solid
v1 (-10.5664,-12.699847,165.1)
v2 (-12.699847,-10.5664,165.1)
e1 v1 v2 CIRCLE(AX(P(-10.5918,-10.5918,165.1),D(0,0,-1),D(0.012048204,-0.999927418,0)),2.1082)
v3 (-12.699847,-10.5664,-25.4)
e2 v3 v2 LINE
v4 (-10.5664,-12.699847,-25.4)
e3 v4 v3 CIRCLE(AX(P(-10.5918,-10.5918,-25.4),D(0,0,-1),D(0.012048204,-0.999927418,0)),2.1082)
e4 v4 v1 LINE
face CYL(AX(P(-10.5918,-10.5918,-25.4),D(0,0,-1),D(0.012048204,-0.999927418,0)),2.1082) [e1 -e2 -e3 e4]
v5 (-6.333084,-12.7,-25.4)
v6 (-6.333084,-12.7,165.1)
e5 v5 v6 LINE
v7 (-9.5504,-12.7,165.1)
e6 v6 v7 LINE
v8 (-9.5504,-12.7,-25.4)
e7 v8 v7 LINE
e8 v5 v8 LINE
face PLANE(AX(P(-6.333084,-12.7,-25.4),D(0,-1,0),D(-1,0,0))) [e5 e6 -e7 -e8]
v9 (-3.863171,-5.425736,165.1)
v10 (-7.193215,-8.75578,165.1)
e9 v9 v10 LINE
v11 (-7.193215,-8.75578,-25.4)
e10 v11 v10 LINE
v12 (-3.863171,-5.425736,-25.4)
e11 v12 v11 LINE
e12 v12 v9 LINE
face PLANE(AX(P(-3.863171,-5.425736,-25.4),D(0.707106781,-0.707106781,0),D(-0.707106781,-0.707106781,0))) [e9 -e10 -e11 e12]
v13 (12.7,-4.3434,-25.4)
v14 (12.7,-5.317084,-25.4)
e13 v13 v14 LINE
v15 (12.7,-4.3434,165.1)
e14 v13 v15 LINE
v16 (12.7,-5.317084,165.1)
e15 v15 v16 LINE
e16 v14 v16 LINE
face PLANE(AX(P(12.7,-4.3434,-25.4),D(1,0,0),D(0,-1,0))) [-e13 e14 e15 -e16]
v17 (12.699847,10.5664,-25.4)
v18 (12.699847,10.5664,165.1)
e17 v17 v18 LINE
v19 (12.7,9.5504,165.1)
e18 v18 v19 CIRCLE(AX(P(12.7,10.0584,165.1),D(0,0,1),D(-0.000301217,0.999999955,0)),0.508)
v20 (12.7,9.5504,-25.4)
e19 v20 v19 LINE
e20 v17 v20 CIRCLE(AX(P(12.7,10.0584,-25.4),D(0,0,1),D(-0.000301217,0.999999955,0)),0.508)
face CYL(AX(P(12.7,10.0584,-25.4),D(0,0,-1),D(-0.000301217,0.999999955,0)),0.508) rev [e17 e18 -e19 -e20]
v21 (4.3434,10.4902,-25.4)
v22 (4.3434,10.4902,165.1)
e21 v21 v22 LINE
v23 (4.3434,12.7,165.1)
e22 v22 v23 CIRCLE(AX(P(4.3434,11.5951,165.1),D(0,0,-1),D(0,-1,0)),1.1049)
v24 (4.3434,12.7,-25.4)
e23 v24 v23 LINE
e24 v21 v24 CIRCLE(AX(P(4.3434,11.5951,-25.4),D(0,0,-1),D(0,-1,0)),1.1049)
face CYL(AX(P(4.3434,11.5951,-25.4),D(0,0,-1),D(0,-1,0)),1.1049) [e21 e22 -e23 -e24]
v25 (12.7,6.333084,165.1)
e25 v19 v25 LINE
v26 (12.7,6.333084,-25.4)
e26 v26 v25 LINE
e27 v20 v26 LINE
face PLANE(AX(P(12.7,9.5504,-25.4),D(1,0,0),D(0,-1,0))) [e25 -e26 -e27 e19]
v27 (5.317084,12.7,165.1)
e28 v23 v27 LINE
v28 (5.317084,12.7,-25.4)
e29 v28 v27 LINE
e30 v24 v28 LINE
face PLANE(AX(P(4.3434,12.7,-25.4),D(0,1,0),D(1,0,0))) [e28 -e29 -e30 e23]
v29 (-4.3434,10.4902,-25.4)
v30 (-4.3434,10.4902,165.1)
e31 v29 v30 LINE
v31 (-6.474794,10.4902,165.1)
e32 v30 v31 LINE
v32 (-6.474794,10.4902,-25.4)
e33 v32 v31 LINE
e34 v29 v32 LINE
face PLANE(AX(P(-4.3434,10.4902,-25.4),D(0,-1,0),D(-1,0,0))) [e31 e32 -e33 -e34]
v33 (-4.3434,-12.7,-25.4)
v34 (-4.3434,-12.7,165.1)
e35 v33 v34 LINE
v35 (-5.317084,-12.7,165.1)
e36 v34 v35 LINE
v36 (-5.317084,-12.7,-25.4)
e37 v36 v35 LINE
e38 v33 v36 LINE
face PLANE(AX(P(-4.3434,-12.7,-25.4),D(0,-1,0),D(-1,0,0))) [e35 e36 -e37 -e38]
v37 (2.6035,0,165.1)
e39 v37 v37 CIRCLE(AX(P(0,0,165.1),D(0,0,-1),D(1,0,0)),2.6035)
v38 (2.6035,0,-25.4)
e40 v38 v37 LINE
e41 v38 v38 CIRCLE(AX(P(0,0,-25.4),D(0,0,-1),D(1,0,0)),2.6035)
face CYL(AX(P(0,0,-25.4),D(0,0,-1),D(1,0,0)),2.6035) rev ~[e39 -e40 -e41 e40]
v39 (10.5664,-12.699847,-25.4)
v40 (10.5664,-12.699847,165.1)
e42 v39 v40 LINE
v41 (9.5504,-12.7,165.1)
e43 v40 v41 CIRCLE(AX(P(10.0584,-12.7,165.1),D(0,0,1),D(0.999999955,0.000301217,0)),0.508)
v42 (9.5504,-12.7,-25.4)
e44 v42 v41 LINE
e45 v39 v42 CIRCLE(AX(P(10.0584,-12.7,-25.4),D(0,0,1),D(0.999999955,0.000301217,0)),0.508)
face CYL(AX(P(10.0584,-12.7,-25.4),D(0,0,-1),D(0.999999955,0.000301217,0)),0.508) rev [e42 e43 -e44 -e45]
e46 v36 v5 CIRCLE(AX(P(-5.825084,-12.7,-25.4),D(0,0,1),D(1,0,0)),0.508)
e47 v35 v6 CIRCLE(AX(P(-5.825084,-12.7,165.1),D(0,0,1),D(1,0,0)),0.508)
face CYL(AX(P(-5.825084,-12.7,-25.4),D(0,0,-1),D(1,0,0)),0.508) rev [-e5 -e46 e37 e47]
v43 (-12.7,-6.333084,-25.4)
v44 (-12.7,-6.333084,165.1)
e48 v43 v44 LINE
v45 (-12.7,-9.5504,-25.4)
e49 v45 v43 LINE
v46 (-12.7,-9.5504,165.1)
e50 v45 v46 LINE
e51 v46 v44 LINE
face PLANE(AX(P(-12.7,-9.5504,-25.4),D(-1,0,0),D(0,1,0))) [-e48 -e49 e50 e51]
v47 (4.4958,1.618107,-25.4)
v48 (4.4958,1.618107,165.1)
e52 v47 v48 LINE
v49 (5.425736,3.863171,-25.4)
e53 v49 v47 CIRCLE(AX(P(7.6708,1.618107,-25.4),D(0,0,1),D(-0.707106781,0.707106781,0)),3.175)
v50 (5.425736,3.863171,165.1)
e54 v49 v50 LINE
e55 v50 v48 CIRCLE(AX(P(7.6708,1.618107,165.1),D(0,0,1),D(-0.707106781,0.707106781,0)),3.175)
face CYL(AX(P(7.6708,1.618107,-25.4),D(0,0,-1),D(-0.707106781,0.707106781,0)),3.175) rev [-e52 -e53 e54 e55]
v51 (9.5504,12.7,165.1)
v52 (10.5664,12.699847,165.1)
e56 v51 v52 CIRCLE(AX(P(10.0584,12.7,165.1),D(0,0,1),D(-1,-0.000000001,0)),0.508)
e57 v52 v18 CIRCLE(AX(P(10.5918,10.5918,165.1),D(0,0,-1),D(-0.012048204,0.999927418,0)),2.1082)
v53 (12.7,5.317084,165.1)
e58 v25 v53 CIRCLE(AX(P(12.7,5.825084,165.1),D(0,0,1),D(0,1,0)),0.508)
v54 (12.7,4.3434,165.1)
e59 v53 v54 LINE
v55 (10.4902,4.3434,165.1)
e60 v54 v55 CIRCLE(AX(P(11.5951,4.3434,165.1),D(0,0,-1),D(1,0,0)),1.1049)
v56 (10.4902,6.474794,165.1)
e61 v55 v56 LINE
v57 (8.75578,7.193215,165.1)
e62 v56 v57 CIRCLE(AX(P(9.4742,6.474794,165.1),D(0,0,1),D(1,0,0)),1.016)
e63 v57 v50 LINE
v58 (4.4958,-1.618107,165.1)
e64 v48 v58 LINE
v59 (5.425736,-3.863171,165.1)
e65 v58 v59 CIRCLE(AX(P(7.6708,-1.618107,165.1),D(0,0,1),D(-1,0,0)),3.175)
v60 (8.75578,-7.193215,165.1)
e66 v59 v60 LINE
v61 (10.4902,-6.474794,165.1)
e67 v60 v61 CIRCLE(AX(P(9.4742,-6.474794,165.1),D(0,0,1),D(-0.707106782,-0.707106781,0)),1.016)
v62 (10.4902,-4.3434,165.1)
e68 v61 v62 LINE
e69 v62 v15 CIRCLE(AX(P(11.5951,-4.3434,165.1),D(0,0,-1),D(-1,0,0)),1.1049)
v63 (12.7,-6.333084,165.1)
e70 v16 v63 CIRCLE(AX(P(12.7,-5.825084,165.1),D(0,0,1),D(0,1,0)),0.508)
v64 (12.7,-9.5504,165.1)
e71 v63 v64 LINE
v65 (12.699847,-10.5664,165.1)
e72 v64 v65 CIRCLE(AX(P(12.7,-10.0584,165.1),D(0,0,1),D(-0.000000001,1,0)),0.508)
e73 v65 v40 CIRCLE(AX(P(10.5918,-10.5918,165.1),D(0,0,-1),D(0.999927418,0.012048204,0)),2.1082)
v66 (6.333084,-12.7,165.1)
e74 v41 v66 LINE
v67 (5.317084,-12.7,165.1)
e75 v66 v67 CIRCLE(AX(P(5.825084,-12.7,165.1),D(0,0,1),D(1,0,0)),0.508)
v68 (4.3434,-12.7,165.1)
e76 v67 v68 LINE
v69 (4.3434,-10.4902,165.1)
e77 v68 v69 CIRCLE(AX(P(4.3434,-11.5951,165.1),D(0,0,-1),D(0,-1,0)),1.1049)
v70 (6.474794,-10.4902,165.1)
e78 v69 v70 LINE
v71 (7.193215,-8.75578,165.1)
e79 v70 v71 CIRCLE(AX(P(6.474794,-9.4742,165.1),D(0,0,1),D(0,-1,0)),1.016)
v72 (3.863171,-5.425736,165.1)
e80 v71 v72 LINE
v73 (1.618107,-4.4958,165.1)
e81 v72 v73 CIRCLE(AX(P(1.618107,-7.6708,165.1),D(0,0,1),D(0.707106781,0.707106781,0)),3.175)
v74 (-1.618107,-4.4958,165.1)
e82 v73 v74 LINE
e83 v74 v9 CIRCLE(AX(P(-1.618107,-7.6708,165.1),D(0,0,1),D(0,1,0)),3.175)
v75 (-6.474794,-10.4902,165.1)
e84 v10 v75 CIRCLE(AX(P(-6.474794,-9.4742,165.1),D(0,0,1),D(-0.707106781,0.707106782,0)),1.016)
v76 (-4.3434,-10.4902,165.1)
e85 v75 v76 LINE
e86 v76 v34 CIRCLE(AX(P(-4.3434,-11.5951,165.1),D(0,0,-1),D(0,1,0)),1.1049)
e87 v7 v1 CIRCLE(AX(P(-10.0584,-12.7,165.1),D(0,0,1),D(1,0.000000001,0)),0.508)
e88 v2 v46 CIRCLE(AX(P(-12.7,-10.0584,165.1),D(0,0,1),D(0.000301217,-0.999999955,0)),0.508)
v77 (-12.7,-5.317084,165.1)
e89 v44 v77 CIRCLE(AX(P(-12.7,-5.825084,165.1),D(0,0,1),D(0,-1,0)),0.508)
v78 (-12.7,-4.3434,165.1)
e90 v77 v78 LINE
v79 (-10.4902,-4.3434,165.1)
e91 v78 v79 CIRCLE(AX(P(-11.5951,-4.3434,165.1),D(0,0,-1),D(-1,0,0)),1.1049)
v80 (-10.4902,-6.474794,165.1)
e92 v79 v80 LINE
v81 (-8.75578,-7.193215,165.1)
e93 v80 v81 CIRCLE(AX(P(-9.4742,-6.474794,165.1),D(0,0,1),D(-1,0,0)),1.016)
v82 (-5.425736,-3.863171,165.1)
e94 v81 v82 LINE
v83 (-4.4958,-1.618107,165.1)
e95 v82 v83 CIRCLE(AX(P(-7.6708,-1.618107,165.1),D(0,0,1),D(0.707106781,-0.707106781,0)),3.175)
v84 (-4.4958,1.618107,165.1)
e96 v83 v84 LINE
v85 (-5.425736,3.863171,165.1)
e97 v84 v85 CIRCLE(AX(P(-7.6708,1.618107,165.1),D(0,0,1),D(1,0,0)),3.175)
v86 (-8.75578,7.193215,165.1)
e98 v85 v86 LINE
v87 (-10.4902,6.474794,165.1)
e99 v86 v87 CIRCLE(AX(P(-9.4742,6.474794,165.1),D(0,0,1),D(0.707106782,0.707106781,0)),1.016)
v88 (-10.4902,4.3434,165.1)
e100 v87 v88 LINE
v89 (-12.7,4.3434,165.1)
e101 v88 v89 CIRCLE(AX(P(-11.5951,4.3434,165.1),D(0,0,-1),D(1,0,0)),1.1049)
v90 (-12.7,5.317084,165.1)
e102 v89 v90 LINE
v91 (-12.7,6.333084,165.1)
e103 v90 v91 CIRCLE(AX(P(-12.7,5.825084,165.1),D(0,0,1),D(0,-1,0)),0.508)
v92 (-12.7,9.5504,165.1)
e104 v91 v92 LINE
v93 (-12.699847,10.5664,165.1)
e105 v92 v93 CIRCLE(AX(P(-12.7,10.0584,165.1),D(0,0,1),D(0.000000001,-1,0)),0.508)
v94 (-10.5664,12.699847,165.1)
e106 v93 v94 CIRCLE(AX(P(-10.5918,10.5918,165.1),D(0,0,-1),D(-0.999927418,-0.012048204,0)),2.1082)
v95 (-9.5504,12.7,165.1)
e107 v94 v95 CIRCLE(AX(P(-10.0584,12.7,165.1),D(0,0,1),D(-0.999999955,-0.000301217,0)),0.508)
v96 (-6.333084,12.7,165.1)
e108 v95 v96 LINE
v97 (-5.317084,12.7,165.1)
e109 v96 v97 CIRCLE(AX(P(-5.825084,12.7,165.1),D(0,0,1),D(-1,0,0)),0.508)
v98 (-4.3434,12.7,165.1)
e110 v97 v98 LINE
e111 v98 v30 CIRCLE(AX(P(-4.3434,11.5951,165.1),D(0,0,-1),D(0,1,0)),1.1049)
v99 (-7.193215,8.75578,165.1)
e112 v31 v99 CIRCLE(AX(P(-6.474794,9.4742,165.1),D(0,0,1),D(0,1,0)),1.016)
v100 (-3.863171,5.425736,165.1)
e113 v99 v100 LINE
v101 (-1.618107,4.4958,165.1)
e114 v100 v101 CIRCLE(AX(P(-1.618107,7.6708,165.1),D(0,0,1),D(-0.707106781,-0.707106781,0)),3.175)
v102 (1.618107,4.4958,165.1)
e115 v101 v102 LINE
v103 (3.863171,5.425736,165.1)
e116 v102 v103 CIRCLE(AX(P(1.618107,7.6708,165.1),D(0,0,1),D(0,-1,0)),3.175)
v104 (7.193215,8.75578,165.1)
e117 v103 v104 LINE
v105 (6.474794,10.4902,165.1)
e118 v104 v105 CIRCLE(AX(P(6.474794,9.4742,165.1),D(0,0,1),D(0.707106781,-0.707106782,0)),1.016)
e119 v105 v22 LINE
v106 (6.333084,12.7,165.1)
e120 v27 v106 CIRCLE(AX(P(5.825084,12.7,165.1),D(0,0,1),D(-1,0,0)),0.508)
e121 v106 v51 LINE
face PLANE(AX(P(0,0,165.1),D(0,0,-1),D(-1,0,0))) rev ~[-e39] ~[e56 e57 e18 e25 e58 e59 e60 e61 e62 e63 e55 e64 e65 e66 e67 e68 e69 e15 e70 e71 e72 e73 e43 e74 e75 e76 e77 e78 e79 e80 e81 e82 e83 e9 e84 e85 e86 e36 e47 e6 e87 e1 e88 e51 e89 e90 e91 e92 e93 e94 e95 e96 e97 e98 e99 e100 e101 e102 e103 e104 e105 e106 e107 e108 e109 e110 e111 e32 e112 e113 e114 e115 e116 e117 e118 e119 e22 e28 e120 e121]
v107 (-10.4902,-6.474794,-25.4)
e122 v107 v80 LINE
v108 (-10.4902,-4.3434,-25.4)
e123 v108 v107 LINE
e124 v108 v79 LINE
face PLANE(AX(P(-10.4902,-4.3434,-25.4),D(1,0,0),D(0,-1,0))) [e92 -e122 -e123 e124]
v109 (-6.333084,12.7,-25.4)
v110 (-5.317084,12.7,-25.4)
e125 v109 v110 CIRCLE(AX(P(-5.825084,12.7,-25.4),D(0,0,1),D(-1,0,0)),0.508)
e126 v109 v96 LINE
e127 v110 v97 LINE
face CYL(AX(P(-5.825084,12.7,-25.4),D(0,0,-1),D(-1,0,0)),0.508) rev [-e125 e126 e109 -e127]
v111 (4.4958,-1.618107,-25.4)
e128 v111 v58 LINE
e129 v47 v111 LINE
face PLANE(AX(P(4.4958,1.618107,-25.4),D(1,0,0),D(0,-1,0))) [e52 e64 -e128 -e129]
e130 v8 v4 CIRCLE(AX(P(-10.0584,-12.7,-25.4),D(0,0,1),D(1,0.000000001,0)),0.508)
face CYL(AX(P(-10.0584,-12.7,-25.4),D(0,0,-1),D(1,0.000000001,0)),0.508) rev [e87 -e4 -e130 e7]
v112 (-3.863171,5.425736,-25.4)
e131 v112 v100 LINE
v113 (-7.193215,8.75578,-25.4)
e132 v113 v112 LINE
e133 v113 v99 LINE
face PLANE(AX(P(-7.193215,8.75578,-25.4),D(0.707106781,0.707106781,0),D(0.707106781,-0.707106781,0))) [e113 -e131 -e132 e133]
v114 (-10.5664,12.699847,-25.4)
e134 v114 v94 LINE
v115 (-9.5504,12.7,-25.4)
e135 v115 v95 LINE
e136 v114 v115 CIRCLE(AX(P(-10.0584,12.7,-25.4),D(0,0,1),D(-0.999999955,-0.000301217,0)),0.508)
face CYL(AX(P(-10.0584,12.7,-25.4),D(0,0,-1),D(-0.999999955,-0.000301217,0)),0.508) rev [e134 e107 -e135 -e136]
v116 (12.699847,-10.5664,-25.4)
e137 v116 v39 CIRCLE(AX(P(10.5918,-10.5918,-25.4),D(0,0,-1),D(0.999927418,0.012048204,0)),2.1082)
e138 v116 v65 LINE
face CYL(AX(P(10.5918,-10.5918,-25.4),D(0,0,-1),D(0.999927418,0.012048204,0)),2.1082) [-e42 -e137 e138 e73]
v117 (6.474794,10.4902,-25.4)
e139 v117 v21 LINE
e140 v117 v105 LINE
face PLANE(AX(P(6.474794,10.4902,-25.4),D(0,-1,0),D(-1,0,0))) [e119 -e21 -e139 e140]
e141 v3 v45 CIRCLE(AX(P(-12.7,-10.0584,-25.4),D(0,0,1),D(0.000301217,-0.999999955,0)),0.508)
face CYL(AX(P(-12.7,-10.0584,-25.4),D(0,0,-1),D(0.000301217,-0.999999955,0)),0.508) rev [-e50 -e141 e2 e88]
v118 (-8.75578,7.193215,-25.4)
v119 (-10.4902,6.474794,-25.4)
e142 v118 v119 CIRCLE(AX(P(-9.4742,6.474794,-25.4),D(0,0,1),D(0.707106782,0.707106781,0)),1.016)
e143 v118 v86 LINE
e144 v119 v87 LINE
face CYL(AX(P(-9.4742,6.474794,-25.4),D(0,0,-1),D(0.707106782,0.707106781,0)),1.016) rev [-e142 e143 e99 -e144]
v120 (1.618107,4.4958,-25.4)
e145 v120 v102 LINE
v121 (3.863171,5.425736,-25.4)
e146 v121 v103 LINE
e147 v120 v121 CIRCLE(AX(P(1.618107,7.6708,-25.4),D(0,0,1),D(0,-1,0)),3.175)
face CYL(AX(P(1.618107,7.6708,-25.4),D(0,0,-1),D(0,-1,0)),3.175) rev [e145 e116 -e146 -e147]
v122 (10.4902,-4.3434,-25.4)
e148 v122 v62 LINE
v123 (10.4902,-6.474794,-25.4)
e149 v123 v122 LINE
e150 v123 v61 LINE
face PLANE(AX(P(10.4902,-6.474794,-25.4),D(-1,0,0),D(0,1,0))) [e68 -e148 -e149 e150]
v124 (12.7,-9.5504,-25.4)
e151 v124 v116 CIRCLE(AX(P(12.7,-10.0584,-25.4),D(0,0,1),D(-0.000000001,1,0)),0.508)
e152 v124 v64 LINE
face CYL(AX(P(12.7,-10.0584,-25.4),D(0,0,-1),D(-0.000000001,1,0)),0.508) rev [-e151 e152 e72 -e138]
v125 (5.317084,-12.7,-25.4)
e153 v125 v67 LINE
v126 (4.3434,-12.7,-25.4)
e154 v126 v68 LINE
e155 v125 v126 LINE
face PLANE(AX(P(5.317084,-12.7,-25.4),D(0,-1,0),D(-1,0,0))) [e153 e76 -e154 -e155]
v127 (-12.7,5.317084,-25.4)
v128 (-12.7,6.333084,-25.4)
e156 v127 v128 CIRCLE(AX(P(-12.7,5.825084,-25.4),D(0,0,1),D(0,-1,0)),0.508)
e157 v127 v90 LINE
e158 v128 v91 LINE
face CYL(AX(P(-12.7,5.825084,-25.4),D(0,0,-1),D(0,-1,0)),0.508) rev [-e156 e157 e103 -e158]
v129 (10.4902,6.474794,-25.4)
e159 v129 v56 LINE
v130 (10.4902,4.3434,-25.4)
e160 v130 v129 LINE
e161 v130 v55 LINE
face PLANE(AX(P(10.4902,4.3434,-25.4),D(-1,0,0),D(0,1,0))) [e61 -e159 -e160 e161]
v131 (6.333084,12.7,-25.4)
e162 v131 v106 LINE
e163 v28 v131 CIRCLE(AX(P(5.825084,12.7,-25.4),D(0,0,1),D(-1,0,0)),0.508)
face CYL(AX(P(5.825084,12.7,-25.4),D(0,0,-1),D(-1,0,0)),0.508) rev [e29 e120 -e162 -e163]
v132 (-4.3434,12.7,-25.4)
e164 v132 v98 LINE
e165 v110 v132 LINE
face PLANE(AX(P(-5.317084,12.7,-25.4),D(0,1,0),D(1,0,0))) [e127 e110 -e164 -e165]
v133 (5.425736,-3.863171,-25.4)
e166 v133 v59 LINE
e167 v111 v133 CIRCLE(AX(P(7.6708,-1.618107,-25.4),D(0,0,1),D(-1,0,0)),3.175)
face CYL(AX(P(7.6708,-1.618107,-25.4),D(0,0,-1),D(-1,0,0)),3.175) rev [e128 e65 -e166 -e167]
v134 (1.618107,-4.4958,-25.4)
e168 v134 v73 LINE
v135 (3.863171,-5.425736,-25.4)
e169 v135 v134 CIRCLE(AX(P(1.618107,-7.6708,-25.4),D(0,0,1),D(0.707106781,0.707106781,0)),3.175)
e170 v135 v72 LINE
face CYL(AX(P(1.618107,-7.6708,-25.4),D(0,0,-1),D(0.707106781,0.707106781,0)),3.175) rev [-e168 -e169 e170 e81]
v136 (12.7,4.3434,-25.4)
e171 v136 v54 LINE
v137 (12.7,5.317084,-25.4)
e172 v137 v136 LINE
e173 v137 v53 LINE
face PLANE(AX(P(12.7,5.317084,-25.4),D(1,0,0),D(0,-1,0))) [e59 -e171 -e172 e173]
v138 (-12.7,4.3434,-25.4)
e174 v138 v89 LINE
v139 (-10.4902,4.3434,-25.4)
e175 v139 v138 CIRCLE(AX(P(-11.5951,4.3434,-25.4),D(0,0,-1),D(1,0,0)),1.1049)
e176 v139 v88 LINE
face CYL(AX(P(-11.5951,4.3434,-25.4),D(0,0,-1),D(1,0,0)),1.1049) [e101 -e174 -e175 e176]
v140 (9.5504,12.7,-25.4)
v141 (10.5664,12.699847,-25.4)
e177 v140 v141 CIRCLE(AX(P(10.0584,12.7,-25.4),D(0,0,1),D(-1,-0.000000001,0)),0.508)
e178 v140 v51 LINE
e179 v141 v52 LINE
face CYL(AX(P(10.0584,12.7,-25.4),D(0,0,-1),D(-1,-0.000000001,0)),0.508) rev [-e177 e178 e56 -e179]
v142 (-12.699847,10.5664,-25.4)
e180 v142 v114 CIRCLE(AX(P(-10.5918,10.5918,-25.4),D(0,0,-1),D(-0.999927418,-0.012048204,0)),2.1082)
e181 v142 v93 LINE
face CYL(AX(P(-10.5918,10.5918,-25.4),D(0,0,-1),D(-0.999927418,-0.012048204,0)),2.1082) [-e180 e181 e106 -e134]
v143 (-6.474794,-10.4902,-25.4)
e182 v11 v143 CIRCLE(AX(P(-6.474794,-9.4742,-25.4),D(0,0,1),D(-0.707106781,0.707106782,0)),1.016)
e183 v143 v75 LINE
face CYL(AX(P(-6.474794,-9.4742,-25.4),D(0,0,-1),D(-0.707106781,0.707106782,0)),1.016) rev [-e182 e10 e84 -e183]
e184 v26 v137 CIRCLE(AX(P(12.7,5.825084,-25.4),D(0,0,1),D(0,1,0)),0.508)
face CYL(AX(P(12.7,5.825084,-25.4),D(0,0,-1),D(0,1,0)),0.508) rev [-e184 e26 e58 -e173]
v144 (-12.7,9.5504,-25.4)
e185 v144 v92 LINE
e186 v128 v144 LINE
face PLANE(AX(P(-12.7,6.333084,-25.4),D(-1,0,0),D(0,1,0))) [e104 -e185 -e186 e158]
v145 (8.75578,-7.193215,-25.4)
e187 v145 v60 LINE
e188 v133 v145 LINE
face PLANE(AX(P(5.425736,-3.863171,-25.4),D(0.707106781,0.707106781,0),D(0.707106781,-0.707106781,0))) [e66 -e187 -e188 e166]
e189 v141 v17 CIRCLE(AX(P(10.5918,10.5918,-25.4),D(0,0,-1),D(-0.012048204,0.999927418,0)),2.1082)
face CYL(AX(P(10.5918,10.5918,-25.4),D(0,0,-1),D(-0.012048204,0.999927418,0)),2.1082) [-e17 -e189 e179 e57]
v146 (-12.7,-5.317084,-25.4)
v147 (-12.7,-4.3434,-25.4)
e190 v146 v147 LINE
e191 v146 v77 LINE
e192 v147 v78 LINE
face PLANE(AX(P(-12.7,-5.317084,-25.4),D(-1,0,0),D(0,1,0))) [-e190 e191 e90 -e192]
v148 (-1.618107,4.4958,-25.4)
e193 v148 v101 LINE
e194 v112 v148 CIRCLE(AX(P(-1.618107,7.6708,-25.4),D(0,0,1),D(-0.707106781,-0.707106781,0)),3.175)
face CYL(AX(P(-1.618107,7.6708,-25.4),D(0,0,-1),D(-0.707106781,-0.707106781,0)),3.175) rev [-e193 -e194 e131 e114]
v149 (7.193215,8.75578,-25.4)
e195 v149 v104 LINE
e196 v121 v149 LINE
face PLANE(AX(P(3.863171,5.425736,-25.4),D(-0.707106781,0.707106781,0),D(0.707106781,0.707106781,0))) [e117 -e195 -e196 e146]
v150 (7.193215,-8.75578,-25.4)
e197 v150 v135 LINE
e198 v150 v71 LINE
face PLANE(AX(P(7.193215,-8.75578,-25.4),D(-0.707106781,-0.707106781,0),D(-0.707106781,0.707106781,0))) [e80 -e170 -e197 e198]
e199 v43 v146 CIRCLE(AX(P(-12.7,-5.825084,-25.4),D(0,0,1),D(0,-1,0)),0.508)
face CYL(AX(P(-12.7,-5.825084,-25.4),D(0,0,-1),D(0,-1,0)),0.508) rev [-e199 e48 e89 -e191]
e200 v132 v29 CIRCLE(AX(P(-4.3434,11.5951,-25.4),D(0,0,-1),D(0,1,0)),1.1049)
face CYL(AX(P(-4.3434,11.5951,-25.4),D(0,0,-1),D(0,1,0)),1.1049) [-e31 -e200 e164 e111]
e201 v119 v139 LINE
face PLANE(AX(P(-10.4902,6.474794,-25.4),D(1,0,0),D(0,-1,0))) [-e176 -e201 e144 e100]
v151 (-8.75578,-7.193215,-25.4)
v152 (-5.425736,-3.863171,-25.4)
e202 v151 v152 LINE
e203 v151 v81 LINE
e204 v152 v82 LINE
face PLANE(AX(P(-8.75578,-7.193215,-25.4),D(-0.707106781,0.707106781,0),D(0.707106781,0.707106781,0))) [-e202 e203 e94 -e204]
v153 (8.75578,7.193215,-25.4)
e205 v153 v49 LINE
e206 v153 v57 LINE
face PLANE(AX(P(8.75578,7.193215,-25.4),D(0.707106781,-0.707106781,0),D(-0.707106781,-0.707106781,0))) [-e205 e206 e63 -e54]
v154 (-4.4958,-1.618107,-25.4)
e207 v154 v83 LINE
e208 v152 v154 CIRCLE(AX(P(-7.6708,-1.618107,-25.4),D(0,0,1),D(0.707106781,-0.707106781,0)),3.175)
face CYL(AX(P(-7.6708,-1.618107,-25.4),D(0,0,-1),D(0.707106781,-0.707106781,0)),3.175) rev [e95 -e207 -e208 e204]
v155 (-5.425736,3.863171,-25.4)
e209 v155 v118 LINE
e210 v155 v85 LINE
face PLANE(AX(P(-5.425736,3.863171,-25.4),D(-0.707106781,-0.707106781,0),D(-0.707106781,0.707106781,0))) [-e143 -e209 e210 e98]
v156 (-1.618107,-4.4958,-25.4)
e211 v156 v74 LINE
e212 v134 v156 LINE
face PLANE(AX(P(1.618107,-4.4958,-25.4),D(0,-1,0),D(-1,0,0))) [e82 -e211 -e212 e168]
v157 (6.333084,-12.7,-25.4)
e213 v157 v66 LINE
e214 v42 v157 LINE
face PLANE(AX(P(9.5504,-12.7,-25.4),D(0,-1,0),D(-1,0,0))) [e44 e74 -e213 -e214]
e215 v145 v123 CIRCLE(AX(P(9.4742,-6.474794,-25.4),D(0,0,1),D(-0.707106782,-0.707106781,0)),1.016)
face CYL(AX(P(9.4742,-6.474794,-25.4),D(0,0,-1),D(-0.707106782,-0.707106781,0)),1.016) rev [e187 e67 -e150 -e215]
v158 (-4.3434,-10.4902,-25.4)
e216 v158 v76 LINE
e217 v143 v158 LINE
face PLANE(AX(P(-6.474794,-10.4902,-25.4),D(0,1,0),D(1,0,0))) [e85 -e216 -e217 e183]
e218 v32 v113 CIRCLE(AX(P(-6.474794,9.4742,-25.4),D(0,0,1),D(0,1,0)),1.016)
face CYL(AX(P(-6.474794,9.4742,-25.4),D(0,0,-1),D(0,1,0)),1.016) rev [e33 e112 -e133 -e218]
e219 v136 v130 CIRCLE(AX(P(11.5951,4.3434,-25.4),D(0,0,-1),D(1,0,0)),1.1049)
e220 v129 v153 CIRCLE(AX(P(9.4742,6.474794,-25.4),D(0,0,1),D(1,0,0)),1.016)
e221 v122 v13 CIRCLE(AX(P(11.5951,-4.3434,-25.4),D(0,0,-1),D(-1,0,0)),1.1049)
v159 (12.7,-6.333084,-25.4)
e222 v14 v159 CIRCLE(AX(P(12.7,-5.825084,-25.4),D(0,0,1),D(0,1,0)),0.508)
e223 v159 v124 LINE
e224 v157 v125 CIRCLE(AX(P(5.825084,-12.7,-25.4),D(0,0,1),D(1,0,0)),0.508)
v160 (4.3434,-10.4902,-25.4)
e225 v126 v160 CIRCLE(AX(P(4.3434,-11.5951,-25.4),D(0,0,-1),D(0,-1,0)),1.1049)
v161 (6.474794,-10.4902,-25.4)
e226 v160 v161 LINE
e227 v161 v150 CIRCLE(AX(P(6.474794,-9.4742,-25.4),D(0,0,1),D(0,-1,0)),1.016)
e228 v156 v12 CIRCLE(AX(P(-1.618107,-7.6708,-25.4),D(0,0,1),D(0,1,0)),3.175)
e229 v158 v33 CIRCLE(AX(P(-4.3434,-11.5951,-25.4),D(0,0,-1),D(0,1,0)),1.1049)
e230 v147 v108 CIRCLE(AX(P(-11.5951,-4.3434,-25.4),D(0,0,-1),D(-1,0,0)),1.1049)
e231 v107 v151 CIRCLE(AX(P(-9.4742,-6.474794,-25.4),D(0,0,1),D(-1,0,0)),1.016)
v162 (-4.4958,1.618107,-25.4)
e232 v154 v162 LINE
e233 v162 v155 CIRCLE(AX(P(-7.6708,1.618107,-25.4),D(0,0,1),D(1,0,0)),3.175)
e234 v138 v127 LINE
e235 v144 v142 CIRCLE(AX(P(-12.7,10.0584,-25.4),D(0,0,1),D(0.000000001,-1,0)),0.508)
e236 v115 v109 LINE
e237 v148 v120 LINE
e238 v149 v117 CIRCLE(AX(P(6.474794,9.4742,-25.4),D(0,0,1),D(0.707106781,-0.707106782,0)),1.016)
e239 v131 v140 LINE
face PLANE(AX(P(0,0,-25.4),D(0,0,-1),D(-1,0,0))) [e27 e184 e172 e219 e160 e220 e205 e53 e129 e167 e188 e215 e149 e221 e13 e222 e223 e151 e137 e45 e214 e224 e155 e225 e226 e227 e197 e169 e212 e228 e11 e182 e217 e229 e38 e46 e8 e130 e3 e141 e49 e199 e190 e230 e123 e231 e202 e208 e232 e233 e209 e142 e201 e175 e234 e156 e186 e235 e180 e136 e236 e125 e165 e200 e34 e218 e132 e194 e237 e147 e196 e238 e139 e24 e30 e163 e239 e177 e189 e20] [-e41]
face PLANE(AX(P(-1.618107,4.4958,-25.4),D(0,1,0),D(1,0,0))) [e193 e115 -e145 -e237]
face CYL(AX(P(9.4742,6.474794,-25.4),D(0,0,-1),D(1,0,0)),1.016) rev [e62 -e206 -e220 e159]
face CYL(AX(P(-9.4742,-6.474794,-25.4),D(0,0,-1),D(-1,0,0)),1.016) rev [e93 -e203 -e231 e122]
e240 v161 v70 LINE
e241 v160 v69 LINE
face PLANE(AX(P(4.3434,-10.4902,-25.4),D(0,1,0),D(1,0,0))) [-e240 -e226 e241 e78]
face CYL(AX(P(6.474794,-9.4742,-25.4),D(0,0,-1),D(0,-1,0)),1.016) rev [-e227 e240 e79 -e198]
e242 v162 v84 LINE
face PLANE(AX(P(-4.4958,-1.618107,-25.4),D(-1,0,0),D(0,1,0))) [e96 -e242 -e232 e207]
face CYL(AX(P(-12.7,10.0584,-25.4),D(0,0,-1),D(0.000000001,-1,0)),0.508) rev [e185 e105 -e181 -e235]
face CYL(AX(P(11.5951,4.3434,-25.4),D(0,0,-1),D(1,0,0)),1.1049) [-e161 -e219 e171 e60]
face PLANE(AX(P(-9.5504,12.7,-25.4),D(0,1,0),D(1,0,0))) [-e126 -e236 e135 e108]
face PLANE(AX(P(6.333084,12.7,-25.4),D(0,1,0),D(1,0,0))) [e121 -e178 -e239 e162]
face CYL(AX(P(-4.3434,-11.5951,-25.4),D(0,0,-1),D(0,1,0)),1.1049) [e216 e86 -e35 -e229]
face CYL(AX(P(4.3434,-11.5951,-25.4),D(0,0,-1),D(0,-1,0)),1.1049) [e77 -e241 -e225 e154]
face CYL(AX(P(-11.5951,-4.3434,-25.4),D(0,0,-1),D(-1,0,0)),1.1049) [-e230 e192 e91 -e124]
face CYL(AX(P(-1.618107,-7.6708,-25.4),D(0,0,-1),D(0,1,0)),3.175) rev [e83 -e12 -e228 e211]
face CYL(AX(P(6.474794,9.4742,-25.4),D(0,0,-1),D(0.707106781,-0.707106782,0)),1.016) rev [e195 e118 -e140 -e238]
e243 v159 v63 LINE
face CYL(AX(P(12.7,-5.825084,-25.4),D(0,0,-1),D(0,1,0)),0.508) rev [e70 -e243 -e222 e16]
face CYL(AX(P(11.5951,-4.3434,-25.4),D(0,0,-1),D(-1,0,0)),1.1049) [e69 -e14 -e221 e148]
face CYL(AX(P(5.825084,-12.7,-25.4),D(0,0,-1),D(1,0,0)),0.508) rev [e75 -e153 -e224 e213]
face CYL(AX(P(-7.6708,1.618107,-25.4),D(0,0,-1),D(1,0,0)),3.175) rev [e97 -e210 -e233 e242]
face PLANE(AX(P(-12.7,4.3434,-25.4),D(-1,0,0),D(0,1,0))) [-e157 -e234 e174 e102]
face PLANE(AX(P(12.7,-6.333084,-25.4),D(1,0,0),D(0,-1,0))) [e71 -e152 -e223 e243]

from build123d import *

# Parameters (mm, degrees)
SKETCH1_R           = 2.6035
BOSS_EXTRUDE1_DEPTH = 190.5


with BuildPart() as part:
    # Sketch1 → Boss-Extrude1 (new body)
    with BuildSketch(Plane(origin=(0, 0, -25.4), x_dir=(-1, 0, 0), z_dir=(0, 0, -1))):
        with BuildLine():
            Line((12.7, -9.5504), (12.7, -6.3330836))
            ThreePointArc((12.7, -6.3330836), (12.192, -5.8250836), (12.7, -5.3170836))
            Line((12.7, -5.3170836), (12.7, -4.3434))
            ThreePointArc((12.7, -4.3434), (11.5951, -3.2385), (10.4902, -4.3434))
            Line((10.4902, -4.3434), (10.4902, -6.474794456))
            ThreePointArc((10.4902, -6.474794456), (9.863006367, -7.413456061), (8.75577951, -7.193214945))
            Line((8.75577951, -7.193214945), (5.42573597, -3.863171405))
            ThreePointArc((5.42573597, -3.863171405), (4.737482484, -2.833127272), (4.4958, -1.618107374))
            Line((4.4958, -1.618107374), (4.4958, 1.618107374))
            ThreePointArc((4.4958, 1.618107374), (4.737482484, 2.833127272), (5.42573597, 3.863171405))
            Line((5.42573597, 3.863171405), (8.75577951, 7.193214945))
            ThreePointArc((8.75577951, 7.193214945), (9.863006367, 7.413456061), (10.4902, 6.474794456))
            Line((10.4902, 6.474794456), (10.4902, 4.343399971))
            ThreePointArc((10.4902, 4.343399971), (11.5951, 3.238499971), (12.7, 4.343399971))
            Line((12.7, 4.343399971), (12.7, 5.3170836))
            ThreePointArc((12.7, 5.3170836), (12.192, 5.8250836), (12.7, 6.3330836))
            Line((12.7, 6.3330836), (12.7, 9.5504))
            ThreePointArc((12.7, 9.5504), (12.192000006, 10.058323491), (12.699846982, 10.566399977))
            ThreePointArc((12.699846982, 10.566399977), (12.082522516, 12.082522516), (10.566399977, 12.699846982))
            ThreePointArc((10.566399977, 12.699846982), (10.058323491, 12.192000006), (9.5504, 12.7))
            Line((9.5504, 12.7), (6.3330836, 12.7))
            ThreePointArc((6.3330836, 12.7), (5.8250836, 12.192), (5.3170836, 12.7))
            Line((5.3170836, 12.7), (4.3434, 12.7))
            ThreePointArc((4.3434, 12.7), (3.2385, 11.5951), (4.3434, 10.4902))
            Line((4.3434, 10.4902), (6.474794456, 10.4902))
            ThreePointArc((6.474794456, 10.4902), (7.413456061, 9.863006367), (7.193214945, 8.75577951))
            Line((7.193214945, 8.75577951), (3.863171405, 5.42573597))
            ThreePointArc((3.863171405, 5.42573597), (2.833127272, 4.737482484), (1.618107374, 4.4958))
            Line((1.618107374, 4.4958), (-1.618107374, 4.4958))
            ThreePointArc((-1.618107374, 4.4958), (-2.833127272, 4.737482484), (-3.863171405, 5.42573597))
            Line((-3.863171405, 5.42573597), (-7.193214945, 8.75577951))
            ThreePointArc((-7.193214945, 8.75577951), (-7.413456061, 9.863006367), (-6.474794456, 10.4902))
            Line((-6.474794456, 10.4902), (-4.343399971, 10.4902))
            ThreePointArc((-4.343399971, 10.4902), (-3.238499971, 11.5951), (-4.343399971, 12.7))
            Line((-4.343399971, 12.7), (-5.3170836, 12.7))
            ThreePointArc((-5.3170836, 12.7), (-5.8250836, 12.192), (-6.3330836, 12.7))
            Line((-6.3330836, 12.7), (-9.5504, 12.7))
            ThreePointArc((-9.5504, 12.7), (-10.058323491, 12.192000006), (-10.566399977, 12.699846982))
            ThreePointArc((-10.566399977, 12.699846982), (-12.082522516, 12.082522516), (-12.699846982, 10.566399977))
            ThreePointArc((-12.699846982, 10.566399977), (-12.192000006, 10.058323491), (-12.7, 9.5504))
            Line((-12.7, 9.5504), (-12.7, 6.3330836))
            ThreePointArc((-12.7, 6.3330836), (-12.192, 5.8250836), (-12.7, 5.3170836))
            Line((-12.7, 5.3170836), (-12.7, 4.3434))
            ThreePointArc((-12.7, 4.3434), (-11.5951, 3.2385), (-10.4902, 4.3434))
            Line((-10.4902, 4.3434), (-10.4902, 6.474794456))
            ThreePointArc((-10.4902, 6.474794456), (-9.863006367, 7.413456061), (-8.75577951, 7.193214945))
            Line((-8.75577951, 7.193214945), (-5.42573597, 3.863171405))
            ThreePointArc((-5.42573597, 3.863171405), (-4.737482484, 2.833127272), (-4.4958, 1.618107374))
            Line((-4.4958, 1.618107374), (-4.4958, -1.618107374))
            ThreePointArc((-4.4958, -1.618107374), (-4.737482484, -2.833127272), (-5.42573597, -3.863171405))
            Line((-5.42573597, -3.863171405), (-8.75577951, -7.193214945))
            ThreePointArc((-8.75577951, -7.193214945), (-9.863006367, -7.413456061), (-10.4902, -6.474794456))
            Line((-10.4902, -6.474794456), (-10.4902, -4.343399971))
            ThreePointArc((-10.4902, -4.343399971), (-11.5951, -3.238499971), (-12.7, -4.343399971))
            Line((-12.7, -4.343399971), (-12.7, -5.3170836))
            ThreePointArc((-12.7, -5.3170836), (-12.192, -5.8250836), (-12.7, -6.3330836))
            Line((-12.7, -6.3330836), (-12.7, -9.5504))
            ThreePointArc((-12.7, -9.5504), (-12.192000006, -10.058323491), (-12.699846982, -10.566399977))
            ThreePointArc((-12.699846982, -10.566399977), (-12.082522516, -12.082522516), (-10.566399977, -12.699846982))
            ThreePointArc((-10.566399977, -12.699846982), (-10.058323491, -12.192000006), (-9.5504, -12.7))
            Line((-9.5504, -12.7), (-6.3330836, -12.7))
            ThreePointArc((-6.3330836, -12.7), (-5.8250836, -12.192), (-5.3170836, -12.7))
            Line((-5.3170836, -12.7), (-4.3434, -12.7))
            ThreePointArc((-4.3434, -12.7), (-3.2385, -11.5951), (-4.3434, -10.4902))
            Line((-4.3434, -10.4902), (-6.474794456, -10.4902))
            ThreePointArc((-6.474794456, -10.4902), (-7.413456061, -9.863006367), (-7.193214945, -8.75577951))
            Line((-7.193214945, -8.75577951), (-3.863171405, -5.42573597))
            ThreePointArc((-3.863171405, -5.42573597), (-2.833127272, -4.737482484), (-1.618107374, -4.4958))
            Line((-1.618107374, -4.4958), (1.618107374, -4.4958))
            ThreePointArc((1.618107374, -4.4958), (2.833127272, -4.737482484), (3.863171405, -5.42573597))
            Line((3.863171405, -5.42573597), (7.193214945, -8.75577951))
            ThreePointArc((7.193214945, -8.75577951), (7.413456061, -9.863006367), (6.474794456, -10.4902))
            Line((6.474794456, -10.4902), (4.343399971, -10.4902))
            ThreePointArc((4.343399971, -10.4902), (3.238499971, -11.5951), (4.343399971, -12.7))
            Line((4.343399971, -12.7), (5.3170836, -12.7))
            ThreePointArc((5.3170836, -12.7), (5.8250836, -12.192), (6.3330836, -12.7))
            Line((6.3330836, -12.7), (9.5504, -12.7))
            ThreePointArc((9.5504, -12.7), (10.058323491, -12.192000006), (10.566399977, -12.699846982))
            ThreePointArc((10.566399977, -12.699846982), (12.082522516, -12.082522516), (12.699846982, -10.566399977))
            ThreePointArc((12.699846982, -10.566399977), (12.192000006, -10.058323491), (12.7, -9.5504))
        make_face()
        with Locations(Location((0, 0, 0), (0, 0, 180))):
            Circle(SKETCH1_R, mode=Mode.SUBTRACT)
    extrude(amount=-BOSS_EXTRUDE1_DEPTH)


solid = part.part
